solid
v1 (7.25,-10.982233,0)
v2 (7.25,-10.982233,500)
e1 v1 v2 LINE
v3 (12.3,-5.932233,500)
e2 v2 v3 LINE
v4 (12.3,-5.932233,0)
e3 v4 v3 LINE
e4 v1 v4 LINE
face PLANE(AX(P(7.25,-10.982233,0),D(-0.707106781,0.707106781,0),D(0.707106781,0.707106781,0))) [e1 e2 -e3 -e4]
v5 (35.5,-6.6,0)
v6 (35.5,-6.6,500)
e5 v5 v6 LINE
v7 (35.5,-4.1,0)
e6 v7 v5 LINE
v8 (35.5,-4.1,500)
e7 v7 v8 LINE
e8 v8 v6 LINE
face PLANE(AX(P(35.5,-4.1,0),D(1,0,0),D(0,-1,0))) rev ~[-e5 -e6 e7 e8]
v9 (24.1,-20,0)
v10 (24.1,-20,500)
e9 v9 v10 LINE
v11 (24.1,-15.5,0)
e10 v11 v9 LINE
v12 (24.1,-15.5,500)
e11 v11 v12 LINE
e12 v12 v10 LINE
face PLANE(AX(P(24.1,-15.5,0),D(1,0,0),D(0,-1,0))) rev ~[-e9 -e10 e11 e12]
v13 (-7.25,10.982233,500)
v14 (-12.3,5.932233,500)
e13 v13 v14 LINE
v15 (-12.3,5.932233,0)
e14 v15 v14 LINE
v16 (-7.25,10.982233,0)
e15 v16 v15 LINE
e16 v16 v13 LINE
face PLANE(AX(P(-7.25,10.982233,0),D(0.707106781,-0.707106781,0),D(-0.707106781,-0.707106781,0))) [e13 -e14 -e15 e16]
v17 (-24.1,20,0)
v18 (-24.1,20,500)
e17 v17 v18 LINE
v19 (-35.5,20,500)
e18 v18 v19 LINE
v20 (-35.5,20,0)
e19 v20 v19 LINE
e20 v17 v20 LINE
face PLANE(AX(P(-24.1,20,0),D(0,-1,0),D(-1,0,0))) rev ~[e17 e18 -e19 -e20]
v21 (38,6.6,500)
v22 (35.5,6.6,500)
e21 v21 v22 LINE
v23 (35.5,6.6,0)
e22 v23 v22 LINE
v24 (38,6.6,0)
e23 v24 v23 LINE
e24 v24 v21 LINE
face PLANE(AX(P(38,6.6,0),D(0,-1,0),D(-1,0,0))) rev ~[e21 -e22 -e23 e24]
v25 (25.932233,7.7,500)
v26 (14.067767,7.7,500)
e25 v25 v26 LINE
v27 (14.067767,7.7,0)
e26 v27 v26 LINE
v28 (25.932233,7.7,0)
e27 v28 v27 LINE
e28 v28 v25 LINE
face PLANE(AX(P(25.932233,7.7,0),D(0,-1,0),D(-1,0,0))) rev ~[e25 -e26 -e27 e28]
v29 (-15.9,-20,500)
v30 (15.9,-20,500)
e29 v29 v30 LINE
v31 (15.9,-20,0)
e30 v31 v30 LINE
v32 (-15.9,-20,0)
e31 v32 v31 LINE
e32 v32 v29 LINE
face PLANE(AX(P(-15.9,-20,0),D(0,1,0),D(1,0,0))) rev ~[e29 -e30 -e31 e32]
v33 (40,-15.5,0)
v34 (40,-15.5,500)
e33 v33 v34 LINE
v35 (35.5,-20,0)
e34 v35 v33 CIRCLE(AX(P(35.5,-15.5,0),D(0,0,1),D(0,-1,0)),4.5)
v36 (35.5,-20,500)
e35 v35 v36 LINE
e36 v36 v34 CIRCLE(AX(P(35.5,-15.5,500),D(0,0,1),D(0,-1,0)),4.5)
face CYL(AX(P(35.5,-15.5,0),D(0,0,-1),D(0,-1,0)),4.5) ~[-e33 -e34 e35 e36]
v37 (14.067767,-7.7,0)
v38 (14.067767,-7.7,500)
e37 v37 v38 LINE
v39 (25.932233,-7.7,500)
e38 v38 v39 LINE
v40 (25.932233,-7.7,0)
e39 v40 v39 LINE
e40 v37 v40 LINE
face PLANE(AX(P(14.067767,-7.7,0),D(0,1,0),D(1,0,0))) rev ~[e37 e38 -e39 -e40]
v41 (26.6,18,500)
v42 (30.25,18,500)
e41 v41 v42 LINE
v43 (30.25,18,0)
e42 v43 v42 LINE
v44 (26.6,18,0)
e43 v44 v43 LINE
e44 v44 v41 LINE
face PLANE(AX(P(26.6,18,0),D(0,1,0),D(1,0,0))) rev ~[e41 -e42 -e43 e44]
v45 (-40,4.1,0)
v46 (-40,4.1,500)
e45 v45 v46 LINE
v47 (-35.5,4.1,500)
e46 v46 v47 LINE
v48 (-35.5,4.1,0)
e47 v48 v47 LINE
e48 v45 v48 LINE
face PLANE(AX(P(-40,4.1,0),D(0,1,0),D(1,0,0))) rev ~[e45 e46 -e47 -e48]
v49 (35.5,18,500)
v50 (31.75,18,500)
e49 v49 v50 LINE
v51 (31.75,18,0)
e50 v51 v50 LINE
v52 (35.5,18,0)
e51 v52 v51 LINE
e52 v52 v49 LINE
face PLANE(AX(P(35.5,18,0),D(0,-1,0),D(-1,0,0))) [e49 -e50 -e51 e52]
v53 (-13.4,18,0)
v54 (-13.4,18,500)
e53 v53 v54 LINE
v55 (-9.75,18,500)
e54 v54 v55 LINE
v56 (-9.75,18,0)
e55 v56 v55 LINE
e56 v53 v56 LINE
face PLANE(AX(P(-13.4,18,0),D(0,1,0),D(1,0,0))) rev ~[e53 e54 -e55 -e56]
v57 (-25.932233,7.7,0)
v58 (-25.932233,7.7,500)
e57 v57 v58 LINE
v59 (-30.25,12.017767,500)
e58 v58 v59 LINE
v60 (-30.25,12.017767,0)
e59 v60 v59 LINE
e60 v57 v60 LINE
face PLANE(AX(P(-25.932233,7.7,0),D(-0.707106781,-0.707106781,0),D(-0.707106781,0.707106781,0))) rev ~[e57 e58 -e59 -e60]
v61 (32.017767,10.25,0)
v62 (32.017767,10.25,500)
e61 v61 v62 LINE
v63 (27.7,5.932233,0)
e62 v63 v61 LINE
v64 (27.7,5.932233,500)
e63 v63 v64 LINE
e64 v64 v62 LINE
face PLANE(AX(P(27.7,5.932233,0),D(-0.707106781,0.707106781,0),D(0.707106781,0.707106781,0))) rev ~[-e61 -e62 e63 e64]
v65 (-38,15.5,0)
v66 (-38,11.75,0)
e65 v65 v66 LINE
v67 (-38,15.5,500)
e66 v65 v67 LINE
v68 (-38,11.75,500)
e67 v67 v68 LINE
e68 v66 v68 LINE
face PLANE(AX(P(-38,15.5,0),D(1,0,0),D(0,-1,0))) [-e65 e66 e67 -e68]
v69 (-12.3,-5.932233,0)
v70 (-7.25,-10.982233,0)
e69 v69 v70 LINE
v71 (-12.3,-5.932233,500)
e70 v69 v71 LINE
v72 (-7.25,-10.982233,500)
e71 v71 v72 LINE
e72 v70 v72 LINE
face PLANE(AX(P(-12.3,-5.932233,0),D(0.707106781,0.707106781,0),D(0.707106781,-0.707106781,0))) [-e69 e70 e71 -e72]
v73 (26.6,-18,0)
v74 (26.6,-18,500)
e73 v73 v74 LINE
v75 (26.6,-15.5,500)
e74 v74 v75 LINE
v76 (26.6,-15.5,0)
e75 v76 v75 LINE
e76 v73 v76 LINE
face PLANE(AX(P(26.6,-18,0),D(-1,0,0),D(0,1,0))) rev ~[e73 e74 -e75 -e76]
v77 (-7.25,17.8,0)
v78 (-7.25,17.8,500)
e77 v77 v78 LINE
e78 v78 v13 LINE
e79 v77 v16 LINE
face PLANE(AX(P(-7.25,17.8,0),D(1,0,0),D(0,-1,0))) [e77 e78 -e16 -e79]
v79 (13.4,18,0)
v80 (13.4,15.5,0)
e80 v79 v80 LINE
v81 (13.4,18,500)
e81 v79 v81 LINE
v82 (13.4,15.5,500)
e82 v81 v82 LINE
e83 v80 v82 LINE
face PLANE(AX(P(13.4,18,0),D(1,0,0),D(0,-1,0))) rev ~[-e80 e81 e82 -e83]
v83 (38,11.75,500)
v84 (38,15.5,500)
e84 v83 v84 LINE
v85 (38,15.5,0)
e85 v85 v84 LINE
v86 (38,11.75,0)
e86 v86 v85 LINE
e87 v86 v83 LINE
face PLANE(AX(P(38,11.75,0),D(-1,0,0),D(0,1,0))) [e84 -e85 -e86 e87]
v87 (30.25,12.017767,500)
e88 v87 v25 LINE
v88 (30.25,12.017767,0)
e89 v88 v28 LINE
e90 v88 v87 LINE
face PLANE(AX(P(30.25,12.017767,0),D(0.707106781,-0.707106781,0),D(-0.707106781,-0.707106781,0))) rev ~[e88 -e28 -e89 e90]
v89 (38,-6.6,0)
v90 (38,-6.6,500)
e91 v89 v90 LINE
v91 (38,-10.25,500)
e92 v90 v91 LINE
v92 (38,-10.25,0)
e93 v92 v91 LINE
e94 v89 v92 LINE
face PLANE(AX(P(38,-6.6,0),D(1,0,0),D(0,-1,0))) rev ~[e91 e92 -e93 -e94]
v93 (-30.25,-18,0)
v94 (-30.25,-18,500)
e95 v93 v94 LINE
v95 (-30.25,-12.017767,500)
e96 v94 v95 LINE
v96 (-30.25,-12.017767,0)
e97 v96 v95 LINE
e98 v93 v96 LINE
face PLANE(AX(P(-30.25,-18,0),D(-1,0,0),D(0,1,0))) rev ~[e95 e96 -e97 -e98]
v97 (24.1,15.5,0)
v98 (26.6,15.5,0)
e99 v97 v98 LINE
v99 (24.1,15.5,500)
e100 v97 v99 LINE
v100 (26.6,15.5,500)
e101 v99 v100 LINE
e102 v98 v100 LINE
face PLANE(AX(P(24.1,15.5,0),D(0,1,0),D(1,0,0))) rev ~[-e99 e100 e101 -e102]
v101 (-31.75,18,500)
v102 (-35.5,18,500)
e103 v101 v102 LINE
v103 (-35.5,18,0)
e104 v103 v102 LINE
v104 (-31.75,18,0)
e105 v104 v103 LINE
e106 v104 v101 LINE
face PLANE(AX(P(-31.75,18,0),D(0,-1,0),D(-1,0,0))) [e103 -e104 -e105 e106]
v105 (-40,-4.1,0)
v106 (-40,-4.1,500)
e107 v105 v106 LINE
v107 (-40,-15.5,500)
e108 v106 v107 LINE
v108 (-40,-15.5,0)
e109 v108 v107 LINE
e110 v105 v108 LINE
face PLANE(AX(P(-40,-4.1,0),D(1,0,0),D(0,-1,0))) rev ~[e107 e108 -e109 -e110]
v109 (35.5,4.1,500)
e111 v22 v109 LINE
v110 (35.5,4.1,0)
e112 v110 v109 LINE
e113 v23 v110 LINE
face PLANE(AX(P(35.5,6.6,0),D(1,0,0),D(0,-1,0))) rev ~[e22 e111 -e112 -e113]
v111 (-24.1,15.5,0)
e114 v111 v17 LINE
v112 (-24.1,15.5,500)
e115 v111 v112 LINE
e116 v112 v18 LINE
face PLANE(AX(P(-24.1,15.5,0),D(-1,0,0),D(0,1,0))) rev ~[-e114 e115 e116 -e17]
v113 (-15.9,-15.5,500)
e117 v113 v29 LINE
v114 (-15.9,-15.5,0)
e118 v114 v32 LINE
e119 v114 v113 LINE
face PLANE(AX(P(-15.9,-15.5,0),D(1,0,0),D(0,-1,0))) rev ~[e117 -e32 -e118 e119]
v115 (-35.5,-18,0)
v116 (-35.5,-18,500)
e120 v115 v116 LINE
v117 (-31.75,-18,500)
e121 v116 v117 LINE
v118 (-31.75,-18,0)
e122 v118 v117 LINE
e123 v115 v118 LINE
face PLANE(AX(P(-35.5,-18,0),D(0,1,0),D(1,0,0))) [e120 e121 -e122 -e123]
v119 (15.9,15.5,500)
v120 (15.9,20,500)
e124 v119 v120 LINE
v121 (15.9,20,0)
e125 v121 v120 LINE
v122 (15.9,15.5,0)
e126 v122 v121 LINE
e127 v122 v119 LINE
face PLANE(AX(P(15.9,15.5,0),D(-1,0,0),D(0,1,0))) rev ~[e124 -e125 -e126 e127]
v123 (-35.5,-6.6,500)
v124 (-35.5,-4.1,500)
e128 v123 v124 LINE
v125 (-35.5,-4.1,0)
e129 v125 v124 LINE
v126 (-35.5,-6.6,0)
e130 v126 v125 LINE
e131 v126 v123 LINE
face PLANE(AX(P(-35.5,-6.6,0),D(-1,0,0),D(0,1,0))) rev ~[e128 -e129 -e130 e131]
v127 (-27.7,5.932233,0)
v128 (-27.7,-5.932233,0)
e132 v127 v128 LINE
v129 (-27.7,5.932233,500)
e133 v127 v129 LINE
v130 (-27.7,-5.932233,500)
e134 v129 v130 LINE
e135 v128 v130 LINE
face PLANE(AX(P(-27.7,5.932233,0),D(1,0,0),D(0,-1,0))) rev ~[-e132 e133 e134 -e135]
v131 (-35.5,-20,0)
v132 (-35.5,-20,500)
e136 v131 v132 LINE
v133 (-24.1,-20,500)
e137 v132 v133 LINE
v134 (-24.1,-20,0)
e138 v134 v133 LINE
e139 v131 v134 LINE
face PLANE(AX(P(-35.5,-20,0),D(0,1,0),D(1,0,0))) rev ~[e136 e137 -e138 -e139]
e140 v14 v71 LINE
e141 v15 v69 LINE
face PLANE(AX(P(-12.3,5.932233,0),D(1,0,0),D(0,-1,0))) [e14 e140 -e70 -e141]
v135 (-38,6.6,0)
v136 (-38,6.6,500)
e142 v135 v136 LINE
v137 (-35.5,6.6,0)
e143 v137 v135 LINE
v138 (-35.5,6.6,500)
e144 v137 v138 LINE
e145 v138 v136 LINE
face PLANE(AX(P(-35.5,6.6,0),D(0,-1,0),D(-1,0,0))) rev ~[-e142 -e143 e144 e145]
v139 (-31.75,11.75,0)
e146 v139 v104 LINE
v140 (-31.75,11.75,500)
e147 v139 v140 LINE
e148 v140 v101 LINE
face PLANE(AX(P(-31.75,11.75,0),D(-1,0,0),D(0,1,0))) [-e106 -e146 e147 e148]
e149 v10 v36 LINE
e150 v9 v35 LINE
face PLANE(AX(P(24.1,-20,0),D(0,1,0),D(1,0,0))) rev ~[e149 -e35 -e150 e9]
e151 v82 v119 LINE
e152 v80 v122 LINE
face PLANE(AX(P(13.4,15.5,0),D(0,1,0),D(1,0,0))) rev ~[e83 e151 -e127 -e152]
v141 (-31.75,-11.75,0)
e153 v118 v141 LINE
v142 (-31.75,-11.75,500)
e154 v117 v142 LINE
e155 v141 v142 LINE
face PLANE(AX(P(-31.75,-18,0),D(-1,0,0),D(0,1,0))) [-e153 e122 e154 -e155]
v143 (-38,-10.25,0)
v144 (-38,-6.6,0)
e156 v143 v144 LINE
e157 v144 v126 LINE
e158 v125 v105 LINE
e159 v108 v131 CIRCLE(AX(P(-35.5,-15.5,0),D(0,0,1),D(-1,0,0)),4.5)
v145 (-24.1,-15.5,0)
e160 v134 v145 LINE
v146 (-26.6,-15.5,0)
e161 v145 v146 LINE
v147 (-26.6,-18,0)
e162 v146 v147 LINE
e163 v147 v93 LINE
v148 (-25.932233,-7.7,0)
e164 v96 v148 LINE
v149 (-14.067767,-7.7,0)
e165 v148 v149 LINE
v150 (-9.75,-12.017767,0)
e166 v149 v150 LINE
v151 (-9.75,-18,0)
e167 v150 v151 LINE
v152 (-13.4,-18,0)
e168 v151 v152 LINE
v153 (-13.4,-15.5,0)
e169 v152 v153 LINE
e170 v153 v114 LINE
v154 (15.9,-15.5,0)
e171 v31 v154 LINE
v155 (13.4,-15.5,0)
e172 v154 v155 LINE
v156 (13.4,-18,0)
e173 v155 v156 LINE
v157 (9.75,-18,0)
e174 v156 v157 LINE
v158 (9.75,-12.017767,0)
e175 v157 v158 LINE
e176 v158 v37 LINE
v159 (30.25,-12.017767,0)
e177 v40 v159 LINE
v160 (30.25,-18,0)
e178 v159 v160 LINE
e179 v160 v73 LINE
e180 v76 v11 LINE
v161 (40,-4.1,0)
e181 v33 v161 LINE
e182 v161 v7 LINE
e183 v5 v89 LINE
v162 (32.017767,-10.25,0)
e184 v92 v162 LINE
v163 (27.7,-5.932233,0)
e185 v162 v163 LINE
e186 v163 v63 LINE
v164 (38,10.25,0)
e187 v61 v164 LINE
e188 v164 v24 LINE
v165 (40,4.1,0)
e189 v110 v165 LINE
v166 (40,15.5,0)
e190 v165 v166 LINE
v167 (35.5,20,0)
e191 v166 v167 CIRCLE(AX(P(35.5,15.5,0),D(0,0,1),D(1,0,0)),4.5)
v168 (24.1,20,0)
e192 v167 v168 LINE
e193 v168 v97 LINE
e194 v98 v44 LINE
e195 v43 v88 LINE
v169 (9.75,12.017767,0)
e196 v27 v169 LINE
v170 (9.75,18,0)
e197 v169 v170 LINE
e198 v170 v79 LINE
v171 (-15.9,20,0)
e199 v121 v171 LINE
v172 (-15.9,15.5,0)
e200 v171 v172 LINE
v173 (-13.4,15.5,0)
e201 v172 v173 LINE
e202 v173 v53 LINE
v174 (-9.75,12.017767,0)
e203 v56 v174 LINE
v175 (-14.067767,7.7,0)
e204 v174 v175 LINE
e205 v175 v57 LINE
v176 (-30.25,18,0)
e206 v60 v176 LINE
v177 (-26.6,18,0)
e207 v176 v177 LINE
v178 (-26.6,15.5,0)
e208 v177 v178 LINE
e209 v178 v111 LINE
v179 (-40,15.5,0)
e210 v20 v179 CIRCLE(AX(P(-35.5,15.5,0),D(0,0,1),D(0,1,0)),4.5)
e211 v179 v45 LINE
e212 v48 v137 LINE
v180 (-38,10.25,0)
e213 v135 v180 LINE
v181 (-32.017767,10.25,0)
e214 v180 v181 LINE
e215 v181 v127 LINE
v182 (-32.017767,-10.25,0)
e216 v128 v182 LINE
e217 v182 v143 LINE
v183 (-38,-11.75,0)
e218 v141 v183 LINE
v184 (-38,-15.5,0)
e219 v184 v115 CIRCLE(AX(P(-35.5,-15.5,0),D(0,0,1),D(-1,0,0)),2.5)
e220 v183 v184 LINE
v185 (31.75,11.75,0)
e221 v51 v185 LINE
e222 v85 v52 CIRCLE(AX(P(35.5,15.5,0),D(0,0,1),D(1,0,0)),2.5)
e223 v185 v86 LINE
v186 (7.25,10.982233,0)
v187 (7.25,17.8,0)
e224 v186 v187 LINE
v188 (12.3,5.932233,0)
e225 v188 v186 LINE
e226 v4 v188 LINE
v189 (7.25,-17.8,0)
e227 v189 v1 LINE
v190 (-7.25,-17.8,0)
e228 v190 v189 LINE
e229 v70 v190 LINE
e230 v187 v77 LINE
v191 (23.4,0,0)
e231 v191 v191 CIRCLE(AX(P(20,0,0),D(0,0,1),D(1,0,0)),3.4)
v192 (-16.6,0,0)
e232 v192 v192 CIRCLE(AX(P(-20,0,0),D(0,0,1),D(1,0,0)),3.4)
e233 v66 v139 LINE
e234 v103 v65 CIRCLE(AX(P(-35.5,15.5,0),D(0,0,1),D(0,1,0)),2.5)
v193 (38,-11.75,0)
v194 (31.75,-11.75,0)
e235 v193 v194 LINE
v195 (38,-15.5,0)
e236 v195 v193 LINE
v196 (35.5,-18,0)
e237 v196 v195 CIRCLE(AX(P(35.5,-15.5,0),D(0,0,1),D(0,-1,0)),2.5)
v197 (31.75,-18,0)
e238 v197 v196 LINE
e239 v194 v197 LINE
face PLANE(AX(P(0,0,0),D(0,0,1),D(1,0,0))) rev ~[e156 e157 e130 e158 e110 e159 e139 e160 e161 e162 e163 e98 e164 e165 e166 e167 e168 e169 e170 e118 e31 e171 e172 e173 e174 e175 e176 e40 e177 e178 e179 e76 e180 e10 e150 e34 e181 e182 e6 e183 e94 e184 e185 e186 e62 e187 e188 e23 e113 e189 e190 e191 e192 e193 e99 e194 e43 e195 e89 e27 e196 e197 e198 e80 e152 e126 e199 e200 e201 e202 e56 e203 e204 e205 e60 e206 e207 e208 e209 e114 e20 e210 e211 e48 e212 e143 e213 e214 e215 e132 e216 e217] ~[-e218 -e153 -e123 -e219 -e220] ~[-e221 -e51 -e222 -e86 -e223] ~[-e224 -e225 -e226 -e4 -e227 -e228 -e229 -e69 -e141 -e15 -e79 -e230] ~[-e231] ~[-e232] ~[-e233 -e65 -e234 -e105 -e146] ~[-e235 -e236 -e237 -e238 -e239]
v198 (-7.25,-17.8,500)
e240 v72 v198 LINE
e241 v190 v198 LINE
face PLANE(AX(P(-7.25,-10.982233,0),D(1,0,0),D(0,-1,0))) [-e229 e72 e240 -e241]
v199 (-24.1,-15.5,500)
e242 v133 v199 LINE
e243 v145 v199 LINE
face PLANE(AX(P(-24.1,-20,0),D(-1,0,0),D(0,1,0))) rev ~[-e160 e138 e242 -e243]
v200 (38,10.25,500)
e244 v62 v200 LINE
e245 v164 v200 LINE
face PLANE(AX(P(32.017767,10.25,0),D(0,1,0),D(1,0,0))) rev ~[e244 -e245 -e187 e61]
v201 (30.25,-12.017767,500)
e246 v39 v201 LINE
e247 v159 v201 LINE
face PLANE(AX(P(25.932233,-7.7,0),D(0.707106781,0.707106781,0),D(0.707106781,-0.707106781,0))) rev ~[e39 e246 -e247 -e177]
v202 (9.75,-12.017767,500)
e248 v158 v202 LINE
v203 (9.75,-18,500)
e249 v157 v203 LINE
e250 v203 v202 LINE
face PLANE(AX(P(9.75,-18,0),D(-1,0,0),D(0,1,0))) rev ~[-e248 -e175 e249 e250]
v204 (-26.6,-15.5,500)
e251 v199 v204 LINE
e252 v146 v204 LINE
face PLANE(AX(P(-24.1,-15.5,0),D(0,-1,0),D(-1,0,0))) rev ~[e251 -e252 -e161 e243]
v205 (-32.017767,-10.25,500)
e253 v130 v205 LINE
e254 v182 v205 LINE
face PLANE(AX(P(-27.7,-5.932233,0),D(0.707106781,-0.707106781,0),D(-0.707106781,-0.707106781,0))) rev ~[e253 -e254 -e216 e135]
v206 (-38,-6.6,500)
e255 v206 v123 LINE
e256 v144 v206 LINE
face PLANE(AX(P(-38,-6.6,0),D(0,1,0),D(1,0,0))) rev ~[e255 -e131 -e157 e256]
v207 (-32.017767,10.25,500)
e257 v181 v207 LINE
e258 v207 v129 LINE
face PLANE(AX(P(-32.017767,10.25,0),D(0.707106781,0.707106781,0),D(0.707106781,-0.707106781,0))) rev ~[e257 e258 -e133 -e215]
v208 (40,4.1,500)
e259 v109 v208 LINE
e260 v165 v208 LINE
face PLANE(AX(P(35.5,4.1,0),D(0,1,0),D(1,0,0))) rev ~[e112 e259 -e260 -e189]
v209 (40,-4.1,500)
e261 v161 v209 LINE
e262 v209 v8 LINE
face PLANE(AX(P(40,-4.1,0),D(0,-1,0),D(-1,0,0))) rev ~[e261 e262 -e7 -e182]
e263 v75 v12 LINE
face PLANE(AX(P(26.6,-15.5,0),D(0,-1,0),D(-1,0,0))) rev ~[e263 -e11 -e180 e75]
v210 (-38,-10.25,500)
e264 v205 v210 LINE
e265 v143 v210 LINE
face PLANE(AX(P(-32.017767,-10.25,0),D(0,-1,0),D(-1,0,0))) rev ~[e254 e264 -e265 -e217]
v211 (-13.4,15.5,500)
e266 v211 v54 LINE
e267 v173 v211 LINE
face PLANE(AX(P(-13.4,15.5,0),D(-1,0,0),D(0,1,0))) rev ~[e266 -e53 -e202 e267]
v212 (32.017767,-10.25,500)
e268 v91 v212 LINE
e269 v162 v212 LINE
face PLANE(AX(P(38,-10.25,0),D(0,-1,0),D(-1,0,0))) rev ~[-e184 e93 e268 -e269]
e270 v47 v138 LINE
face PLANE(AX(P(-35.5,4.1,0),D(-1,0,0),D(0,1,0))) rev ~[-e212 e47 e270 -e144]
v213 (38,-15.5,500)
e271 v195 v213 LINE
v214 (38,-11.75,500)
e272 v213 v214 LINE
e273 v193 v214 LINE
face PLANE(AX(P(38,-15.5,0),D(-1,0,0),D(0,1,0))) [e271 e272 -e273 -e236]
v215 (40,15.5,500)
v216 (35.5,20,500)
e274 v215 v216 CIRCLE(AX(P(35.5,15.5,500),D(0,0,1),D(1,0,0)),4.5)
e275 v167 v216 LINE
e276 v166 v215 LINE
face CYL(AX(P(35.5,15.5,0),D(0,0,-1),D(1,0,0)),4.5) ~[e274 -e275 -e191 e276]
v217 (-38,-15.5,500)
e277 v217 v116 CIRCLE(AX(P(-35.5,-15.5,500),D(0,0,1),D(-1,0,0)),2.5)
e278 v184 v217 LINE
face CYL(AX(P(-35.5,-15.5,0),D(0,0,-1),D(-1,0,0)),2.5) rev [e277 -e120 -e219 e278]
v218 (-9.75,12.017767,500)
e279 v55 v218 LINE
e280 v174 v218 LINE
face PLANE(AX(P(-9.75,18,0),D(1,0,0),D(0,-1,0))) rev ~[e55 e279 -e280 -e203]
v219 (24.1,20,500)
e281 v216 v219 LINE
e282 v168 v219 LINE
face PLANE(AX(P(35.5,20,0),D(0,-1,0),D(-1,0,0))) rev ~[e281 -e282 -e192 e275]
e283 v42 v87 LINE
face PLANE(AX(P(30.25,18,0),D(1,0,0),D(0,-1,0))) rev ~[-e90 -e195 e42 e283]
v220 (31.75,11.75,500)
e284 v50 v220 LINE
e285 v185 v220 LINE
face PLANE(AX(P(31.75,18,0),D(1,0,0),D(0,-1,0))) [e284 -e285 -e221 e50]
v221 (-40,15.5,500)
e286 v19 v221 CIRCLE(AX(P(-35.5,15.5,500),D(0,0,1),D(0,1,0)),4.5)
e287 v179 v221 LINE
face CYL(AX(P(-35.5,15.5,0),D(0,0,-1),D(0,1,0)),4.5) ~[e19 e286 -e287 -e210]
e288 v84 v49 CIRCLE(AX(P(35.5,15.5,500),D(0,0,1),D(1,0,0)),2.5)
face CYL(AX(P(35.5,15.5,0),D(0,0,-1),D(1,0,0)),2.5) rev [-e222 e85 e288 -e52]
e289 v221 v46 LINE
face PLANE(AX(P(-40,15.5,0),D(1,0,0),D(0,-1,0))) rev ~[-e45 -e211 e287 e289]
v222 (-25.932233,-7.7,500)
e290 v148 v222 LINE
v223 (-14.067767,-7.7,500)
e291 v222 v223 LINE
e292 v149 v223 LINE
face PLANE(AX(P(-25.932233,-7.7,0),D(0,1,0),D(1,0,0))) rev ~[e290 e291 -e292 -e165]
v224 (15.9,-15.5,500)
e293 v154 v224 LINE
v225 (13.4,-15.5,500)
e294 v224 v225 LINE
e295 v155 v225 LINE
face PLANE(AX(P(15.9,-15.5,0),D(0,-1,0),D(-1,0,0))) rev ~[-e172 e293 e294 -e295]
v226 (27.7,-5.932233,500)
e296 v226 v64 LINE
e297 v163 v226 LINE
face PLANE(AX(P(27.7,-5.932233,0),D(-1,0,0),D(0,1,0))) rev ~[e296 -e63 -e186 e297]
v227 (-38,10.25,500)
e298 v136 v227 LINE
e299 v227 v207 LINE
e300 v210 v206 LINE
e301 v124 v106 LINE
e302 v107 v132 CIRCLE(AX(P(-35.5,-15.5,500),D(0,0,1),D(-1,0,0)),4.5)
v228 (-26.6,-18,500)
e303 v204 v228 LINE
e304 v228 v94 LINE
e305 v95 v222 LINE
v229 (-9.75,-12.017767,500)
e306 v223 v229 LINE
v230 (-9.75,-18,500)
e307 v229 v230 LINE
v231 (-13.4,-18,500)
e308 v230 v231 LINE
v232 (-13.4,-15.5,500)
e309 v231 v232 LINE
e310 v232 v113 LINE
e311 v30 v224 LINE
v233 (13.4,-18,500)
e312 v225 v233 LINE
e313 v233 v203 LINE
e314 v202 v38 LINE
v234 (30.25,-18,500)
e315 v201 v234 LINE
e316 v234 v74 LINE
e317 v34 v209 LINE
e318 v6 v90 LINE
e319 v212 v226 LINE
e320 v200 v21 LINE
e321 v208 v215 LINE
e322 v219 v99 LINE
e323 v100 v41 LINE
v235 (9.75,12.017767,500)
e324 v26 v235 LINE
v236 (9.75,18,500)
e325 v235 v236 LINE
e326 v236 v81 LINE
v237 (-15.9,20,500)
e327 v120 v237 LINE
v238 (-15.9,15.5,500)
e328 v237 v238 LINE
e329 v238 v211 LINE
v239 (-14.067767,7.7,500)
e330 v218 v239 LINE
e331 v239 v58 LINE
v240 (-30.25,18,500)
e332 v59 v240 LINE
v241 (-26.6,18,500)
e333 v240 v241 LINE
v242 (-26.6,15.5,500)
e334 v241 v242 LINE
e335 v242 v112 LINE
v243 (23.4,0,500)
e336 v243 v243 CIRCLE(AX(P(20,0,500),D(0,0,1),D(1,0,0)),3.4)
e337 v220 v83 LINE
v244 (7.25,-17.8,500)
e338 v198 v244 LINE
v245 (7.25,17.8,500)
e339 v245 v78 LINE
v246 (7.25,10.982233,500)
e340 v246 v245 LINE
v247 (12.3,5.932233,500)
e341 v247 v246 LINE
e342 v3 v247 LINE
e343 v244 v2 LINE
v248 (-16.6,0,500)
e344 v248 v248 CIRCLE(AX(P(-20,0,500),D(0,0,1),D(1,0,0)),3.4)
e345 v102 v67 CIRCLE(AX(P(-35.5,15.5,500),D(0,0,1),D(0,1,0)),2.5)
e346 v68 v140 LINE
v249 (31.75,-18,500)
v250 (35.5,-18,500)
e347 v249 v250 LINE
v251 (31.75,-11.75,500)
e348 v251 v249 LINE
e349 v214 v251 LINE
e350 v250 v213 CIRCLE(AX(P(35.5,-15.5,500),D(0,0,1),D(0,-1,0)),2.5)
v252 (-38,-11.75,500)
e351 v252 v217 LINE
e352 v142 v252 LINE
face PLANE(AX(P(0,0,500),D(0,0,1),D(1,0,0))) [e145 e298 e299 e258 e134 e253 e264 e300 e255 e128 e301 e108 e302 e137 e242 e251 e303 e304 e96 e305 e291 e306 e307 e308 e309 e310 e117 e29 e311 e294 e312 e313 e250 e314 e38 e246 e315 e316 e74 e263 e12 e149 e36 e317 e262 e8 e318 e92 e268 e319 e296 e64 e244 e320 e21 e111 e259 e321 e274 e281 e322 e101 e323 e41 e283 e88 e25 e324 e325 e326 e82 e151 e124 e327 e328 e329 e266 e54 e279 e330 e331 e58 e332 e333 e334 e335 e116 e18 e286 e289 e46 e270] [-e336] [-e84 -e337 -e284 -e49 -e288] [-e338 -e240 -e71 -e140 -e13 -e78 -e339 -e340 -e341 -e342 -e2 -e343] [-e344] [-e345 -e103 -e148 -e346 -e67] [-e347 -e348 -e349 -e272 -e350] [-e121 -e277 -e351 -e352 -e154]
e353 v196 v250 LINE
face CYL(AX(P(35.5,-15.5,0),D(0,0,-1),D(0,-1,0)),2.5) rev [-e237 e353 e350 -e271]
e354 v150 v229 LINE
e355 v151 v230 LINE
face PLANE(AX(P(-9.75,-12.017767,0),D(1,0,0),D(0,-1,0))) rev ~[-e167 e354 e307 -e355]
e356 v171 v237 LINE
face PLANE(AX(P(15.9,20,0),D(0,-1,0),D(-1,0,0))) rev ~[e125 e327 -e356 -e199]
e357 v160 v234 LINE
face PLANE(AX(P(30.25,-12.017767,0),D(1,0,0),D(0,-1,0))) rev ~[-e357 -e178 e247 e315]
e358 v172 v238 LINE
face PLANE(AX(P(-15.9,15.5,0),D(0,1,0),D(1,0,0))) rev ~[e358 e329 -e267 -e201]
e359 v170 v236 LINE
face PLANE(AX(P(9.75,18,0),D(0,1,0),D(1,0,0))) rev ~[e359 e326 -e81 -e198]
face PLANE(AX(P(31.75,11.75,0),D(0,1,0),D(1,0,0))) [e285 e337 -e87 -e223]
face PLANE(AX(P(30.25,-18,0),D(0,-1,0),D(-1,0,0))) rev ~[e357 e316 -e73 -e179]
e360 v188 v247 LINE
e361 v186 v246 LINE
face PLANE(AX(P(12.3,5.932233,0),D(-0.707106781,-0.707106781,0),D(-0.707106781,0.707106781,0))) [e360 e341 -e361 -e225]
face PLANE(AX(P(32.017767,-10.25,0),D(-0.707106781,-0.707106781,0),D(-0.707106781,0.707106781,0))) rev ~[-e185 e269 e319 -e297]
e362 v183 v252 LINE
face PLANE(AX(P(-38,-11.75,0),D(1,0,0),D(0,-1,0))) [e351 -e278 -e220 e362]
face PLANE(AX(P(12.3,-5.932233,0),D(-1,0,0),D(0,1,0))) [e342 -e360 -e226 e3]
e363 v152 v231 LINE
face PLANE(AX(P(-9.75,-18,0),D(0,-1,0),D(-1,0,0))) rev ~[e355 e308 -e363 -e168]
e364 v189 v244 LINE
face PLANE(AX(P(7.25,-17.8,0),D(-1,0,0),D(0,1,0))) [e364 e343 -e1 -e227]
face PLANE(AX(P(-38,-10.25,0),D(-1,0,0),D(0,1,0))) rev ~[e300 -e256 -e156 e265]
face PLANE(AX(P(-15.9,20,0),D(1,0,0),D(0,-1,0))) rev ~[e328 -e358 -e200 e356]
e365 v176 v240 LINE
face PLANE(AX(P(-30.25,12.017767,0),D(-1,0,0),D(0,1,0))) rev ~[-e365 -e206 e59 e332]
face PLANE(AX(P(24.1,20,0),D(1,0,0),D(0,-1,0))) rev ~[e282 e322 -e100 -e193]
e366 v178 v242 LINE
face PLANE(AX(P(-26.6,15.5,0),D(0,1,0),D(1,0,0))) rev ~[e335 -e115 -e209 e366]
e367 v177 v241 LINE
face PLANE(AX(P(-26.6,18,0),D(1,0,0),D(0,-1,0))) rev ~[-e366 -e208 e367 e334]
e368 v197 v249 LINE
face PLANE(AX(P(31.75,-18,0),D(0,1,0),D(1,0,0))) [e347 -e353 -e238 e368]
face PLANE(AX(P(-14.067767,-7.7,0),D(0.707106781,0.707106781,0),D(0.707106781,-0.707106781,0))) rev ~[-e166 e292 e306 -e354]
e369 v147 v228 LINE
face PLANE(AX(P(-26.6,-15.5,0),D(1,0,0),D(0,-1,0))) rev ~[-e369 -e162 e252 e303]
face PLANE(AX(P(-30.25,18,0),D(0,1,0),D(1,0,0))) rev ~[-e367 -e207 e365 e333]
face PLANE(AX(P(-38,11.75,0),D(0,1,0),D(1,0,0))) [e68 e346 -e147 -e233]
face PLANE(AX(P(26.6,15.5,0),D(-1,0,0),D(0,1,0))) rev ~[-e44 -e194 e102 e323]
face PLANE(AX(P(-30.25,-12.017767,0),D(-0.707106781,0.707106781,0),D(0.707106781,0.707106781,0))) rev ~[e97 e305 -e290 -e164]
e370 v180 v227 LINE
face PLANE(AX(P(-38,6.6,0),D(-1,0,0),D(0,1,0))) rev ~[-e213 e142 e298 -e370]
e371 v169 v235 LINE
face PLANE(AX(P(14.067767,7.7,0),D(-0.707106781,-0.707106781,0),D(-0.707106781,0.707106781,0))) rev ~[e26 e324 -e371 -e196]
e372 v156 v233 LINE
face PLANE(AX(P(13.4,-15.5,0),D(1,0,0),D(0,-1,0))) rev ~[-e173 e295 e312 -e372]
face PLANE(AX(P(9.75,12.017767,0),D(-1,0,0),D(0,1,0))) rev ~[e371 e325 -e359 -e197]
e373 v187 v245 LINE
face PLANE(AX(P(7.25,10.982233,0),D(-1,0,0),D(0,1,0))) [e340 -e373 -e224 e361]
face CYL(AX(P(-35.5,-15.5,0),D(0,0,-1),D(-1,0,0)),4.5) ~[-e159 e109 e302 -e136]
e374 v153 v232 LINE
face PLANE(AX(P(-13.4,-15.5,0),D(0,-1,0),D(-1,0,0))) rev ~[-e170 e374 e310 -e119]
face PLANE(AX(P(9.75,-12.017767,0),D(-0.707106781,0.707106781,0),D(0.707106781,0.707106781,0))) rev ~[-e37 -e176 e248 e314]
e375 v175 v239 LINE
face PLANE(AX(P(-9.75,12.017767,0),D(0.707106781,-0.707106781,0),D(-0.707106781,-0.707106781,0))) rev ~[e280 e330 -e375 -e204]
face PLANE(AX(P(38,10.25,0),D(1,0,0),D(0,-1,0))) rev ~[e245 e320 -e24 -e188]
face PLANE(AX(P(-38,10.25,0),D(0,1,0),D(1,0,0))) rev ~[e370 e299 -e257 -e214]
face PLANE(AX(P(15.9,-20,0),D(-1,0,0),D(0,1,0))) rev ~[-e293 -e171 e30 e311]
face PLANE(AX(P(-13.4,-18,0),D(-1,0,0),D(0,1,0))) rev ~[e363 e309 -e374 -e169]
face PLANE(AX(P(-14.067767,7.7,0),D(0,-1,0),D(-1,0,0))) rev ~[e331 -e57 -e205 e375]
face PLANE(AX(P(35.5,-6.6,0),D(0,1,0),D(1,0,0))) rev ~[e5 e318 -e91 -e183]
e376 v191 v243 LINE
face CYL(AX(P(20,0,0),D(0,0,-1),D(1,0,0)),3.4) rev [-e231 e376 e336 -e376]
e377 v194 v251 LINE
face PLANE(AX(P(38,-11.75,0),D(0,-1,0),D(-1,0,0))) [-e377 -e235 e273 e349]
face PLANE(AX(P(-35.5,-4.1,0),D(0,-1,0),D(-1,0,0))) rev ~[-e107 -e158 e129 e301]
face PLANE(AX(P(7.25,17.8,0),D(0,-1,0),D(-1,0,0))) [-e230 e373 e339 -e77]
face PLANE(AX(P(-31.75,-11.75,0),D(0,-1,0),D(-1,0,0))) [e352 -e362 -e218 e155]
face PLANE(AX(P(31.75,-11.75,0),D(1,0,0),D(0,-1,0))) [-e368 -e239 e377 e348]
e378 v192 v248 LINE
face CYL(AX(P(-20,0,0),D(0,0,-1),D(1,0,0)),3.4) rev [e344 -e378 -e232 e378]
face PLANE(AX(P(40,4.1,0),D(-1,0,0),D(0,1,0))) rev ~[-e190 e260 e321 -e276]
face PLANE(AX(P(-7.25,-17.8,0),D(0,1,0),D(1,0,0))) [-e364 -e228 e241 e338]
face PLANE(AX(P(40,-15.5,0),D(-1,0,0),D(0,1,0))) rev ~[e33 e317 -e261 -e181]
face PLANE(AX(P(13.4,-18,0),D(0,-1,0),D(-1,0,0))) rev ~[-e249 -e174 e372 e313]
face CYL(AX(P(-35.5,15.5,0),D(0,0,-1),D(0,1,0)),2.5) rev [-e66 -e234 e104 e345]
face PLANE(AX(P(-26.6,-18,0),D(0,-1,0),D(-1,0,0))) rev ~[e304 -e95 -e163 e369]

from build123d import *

# Parameters (mm, degrees)
SKETCH1_R           = 3.4
BOSS_EXTRUDE1_DEPTH = 500


with BuildPart() as part:
    # Sketch1 → Boss-Extrude1 (new body)
    with BuildSketch(Plane.XY):
        with BuildLine():
            Line((24.1, -20), (35.5, -20))
            ThreePointArc((35.5, -20), (38.681980515, -18.681980515), (40, -15.5))
            Line((40, -15.5), (40, -4.1))
            Line((40, -4.1), (35.5, -4.1))
            Line((35.5, -4.1), (35.5, -6.6))
            Line((35.5, -6.6), (38, -6.6))
            Line((38, -6.6), (38, -10.25))
            Line((38, -10.25), (32.017766953, -10.25))
            Line((32.017766953, -10.25), (27.7, -5.932233047))
            Line((27.7, -5.932233047), (27.7, 5.932233047))
            Line((27.7, 5.932233047), (32.017766953, 10.25))
            Line((32.017766953, 10.25), (38, 10.25))
            Line((38, 10.25), (38, 6.6))
            Line((38, 6.6), (35.5, 6.6))
            Line((35.5, 6.6), (35.5, 4.1))
            Line((35.5, 4.1), (40, 4.1))
            Line((40, 4.1), (40, 15.5))
            ThreePointArc((40, 15.5), (38.681980515, 18.681980515), (35.5, 20))
            Line((35.5, 20), (24.1, 20))
            Line((24.1, 20), (24.1, 15.5))
            Line((24.1, 15.5), (26.6, 15.5))
            Line((26.6, 15.5), (26.6, 18))
            Line((26.6, 18), (30.25, 18))
            Line((30.25, 18), (30.25, 12.017766953))
            Line((30.25, 12.017766953), (25.932233047, 7.7))
            Line((25.932233047, 7.7), (14.067766953, 7.7))
            Line((14.067766953, 7.7), (9.75, 12.017766953))
            Line((9.75, 12.017766953), (9.75, 18))
            Line((9.75, 18), (13.4, 18))
            Line((13.4, 18), (13.4, 15.5))
            Line((13.4, 15.5), (15.9, 15.5))
            Line((15.9, 15.5), (15.9, 20))
            Line((15.9, 20), (-15.9, 20))
            Line((-15.9, 20), (-15.9, 15.5))
            Line((-15.9, 15.5), (-13.4, 15.5))
            Line((-13.4, 15.5), (-13.4, 18))
            Line((-13.4, 18), (-9.75, 18))
            Line((-9.75, 18), (-9.75, 12.017766953))
            Line((-9.75, 12.017766953), (-14.067766953, 7.7))
            Line((-14.067766953, 7.7), (-25.932233047, 7.7))
            Line((-25.932233047, 7.7), (-30.25, 12.017766953))
            Line((-30.25, 12.017766953), (-30.25, 18))
            Line((-30.25, 18), (-26.6, 18))
            Line((-26.6, 18), (-26.6, 15.5))
            Line((-26.6, 15.5), (-24.1, 15.5))
            Line((-24.1, 15.5), (-24.1, 20))
            Line((-24.1, 20), (-35.5, 20))
            ThreePointArc((-35.5, 20), (-38.681980515, 18.681980515), (-40, 15.5))
            Line((-40, 15.5), (-40, 4.1))
            Line((-40, 4.1), (-35.5, 4.1))
            Line((-35.5, 4.1), (-35.5, 6.6))
            Line((-35.5, 6.6), (-38, 6.6))
            Line((-38, 6.6), (-38, 10.25))
            Line((-38, 10.25), (-32.017766953, 10.25))
            Line((-32.017766953, 10.25), (-27.7, 5.932233047))
            Line((-27.7, 5.932233047), (-27.7, -5.932233047))
            Line((-27.7, -5.932233047), (-32.017766953, -10.25))
            Line((-32.017766953, -10.25), (-38, -10.25))
            Line((-38, -10.25), (-38, -6.6))
            Line((-38, -6.6), (-35.5, -6.6))
            Line((-35.5, -6.6), (-35.5, -4.1))
            Line((-35.5, -4.1), (-40, -4.1))
            Line((-40, -4.1), (-40, -15.5))
            ThreePointArc((-40, -15.5), (-38.681980515, -18.681980515), (-35.5, -20))
            Line((-35.5, -20), (-24.1, -20))
            Line((-24.1, -20), (-24.1, -15.5))
            Line((-24.1, -15.5), (-26.6, -15.5))
            Line((-26.6, -15.5), (-26.6, -18))
            Line((-26.6, -18), (-30.25, -18))
            Line((-30.25, -18), (-30.25, -12.017766953))
            Line((-30.25, -12.017766953), (-25.932233047, -7.7))
            Line((-25.932233047, -7.7), (-14.067766953, -7.7))
            Line((-14.067766953, -7.7), (-9.75, -12.017766953))
            Line((-9.75, -12.017766953), (-9.75, -18))
            Line((-9.75, -18), (-13.4, -18))
            Line((-13.4, -18), (-13.4, -15.5))
            Line((-13.4, -15.5), (-15.9, -15.5))
            Line((-15.9, -15.5), (-15.9, -20))
            Line((-15.9, -20), (15.9, -20))
            Line((15.9, -20), (15.9, -15.5))
            Line((15.9, -15.5), (13.4, -15.5))
            Line((13.4, -15.5), (13.4, -18))
            Line((13.4, -18), (9.75, -18))
            Line((9.75, -18), (9.75, -12.017766953))
            Line((9.75, -12.017766953), (14.067766953, -7.7))
            Line((14.067766953, -7.7), (25.932233047, -7.7))
            Line((25.932233047, -7.7), (30.25, -12.017766953))
            Line((30.25, -12.017766953), (30.25, -18))
            Line((30.25, -18), (26.6, -18))
            Line((26.6, -18), (26.6, -15.5))
            Line((26.6, -15.5), (24.1, -15.5))
            Line((24.1, -15.5), (24.1, -20))
        make_face()
        with Locations((-20, 0)):
            Circle(SKETCH1_R, mode=Mode.SUBTRACT)
        with Locations((20, 0)):
            Circle(SKETCH1_R, mode=Mode.SUBTRACT)
        with BuildLine():
            Line((38, -15.5), (38, -11.75))
            Line((38, -11.75), (31.75, -11.75))
            Line((31.75, -11.75), (31.75, -18))
            Line((31.75, -18), (35.5, -18))
            ThreePointArc((35.5, -18), (37.267766953, -17.267766953), (38, -15.5))
        make_face(mode=Mode.SUBTRACT)
        with BuildLine():
            Line((-38, 15.5), (-38, 11.75))
            Line((-38, 11.75), (-31.75, 11.75))
            Line((-31.75, 11.75), (-31.75, 18))
            Line((-31.75, 18), (-35.5, 18))
            ThreePointArc((-35.5, 18), (-37.267766953, 17.267766953), (-38, 15.5))
        make_face(mode=Mode.SUBTRACT)
        Polygon((-7.25, -10.982233047), (-7.25, -17.8), (7.25, -17.8), (7.25, -10.982233047), (12.3, -5.932233047), (12.3, 5.932233047), (7.25, 10.982233047), (7.25, 17.8), (-7.25, 17.8), (-7.25, 10.982233047), (-12.3, 5.932233047), (-12.3, -5.932233047), align=None, mode=Mode.SUBTRACT)
        with BuildLine():
            Line((-35.5, -18), (-31.75, -18))
            Line((-31.75, -18), (-31.75, -11.75))
            Line((-31.75, -11.75), (-38, -11.75))
            Line((-38, -11.75), (-38, -15.5))
            ThreePointArc((-38, -15.5), (-37.267766953, -17.267766953), (-35.5, -18))
        make_face(mode=Mode.SUBTRACT)
        with BuildLine():
            Line((35.5, 18), (31.75, 18))
            Line((31.75, 18), (31.75, 11.75))
            Line((31.75, 11.75), (38, 11.75))
            Line((38, 11.75), (38, 15.5))
            ThreePointArc((38, 15.5), (37.267766953, 17.267766953), (35.5, 18))
        make_face(mode=Mode.SUBTRACT)
    extrude(amount=BOSS_EXTRUDE1_DEPTH)


solid = part.part
